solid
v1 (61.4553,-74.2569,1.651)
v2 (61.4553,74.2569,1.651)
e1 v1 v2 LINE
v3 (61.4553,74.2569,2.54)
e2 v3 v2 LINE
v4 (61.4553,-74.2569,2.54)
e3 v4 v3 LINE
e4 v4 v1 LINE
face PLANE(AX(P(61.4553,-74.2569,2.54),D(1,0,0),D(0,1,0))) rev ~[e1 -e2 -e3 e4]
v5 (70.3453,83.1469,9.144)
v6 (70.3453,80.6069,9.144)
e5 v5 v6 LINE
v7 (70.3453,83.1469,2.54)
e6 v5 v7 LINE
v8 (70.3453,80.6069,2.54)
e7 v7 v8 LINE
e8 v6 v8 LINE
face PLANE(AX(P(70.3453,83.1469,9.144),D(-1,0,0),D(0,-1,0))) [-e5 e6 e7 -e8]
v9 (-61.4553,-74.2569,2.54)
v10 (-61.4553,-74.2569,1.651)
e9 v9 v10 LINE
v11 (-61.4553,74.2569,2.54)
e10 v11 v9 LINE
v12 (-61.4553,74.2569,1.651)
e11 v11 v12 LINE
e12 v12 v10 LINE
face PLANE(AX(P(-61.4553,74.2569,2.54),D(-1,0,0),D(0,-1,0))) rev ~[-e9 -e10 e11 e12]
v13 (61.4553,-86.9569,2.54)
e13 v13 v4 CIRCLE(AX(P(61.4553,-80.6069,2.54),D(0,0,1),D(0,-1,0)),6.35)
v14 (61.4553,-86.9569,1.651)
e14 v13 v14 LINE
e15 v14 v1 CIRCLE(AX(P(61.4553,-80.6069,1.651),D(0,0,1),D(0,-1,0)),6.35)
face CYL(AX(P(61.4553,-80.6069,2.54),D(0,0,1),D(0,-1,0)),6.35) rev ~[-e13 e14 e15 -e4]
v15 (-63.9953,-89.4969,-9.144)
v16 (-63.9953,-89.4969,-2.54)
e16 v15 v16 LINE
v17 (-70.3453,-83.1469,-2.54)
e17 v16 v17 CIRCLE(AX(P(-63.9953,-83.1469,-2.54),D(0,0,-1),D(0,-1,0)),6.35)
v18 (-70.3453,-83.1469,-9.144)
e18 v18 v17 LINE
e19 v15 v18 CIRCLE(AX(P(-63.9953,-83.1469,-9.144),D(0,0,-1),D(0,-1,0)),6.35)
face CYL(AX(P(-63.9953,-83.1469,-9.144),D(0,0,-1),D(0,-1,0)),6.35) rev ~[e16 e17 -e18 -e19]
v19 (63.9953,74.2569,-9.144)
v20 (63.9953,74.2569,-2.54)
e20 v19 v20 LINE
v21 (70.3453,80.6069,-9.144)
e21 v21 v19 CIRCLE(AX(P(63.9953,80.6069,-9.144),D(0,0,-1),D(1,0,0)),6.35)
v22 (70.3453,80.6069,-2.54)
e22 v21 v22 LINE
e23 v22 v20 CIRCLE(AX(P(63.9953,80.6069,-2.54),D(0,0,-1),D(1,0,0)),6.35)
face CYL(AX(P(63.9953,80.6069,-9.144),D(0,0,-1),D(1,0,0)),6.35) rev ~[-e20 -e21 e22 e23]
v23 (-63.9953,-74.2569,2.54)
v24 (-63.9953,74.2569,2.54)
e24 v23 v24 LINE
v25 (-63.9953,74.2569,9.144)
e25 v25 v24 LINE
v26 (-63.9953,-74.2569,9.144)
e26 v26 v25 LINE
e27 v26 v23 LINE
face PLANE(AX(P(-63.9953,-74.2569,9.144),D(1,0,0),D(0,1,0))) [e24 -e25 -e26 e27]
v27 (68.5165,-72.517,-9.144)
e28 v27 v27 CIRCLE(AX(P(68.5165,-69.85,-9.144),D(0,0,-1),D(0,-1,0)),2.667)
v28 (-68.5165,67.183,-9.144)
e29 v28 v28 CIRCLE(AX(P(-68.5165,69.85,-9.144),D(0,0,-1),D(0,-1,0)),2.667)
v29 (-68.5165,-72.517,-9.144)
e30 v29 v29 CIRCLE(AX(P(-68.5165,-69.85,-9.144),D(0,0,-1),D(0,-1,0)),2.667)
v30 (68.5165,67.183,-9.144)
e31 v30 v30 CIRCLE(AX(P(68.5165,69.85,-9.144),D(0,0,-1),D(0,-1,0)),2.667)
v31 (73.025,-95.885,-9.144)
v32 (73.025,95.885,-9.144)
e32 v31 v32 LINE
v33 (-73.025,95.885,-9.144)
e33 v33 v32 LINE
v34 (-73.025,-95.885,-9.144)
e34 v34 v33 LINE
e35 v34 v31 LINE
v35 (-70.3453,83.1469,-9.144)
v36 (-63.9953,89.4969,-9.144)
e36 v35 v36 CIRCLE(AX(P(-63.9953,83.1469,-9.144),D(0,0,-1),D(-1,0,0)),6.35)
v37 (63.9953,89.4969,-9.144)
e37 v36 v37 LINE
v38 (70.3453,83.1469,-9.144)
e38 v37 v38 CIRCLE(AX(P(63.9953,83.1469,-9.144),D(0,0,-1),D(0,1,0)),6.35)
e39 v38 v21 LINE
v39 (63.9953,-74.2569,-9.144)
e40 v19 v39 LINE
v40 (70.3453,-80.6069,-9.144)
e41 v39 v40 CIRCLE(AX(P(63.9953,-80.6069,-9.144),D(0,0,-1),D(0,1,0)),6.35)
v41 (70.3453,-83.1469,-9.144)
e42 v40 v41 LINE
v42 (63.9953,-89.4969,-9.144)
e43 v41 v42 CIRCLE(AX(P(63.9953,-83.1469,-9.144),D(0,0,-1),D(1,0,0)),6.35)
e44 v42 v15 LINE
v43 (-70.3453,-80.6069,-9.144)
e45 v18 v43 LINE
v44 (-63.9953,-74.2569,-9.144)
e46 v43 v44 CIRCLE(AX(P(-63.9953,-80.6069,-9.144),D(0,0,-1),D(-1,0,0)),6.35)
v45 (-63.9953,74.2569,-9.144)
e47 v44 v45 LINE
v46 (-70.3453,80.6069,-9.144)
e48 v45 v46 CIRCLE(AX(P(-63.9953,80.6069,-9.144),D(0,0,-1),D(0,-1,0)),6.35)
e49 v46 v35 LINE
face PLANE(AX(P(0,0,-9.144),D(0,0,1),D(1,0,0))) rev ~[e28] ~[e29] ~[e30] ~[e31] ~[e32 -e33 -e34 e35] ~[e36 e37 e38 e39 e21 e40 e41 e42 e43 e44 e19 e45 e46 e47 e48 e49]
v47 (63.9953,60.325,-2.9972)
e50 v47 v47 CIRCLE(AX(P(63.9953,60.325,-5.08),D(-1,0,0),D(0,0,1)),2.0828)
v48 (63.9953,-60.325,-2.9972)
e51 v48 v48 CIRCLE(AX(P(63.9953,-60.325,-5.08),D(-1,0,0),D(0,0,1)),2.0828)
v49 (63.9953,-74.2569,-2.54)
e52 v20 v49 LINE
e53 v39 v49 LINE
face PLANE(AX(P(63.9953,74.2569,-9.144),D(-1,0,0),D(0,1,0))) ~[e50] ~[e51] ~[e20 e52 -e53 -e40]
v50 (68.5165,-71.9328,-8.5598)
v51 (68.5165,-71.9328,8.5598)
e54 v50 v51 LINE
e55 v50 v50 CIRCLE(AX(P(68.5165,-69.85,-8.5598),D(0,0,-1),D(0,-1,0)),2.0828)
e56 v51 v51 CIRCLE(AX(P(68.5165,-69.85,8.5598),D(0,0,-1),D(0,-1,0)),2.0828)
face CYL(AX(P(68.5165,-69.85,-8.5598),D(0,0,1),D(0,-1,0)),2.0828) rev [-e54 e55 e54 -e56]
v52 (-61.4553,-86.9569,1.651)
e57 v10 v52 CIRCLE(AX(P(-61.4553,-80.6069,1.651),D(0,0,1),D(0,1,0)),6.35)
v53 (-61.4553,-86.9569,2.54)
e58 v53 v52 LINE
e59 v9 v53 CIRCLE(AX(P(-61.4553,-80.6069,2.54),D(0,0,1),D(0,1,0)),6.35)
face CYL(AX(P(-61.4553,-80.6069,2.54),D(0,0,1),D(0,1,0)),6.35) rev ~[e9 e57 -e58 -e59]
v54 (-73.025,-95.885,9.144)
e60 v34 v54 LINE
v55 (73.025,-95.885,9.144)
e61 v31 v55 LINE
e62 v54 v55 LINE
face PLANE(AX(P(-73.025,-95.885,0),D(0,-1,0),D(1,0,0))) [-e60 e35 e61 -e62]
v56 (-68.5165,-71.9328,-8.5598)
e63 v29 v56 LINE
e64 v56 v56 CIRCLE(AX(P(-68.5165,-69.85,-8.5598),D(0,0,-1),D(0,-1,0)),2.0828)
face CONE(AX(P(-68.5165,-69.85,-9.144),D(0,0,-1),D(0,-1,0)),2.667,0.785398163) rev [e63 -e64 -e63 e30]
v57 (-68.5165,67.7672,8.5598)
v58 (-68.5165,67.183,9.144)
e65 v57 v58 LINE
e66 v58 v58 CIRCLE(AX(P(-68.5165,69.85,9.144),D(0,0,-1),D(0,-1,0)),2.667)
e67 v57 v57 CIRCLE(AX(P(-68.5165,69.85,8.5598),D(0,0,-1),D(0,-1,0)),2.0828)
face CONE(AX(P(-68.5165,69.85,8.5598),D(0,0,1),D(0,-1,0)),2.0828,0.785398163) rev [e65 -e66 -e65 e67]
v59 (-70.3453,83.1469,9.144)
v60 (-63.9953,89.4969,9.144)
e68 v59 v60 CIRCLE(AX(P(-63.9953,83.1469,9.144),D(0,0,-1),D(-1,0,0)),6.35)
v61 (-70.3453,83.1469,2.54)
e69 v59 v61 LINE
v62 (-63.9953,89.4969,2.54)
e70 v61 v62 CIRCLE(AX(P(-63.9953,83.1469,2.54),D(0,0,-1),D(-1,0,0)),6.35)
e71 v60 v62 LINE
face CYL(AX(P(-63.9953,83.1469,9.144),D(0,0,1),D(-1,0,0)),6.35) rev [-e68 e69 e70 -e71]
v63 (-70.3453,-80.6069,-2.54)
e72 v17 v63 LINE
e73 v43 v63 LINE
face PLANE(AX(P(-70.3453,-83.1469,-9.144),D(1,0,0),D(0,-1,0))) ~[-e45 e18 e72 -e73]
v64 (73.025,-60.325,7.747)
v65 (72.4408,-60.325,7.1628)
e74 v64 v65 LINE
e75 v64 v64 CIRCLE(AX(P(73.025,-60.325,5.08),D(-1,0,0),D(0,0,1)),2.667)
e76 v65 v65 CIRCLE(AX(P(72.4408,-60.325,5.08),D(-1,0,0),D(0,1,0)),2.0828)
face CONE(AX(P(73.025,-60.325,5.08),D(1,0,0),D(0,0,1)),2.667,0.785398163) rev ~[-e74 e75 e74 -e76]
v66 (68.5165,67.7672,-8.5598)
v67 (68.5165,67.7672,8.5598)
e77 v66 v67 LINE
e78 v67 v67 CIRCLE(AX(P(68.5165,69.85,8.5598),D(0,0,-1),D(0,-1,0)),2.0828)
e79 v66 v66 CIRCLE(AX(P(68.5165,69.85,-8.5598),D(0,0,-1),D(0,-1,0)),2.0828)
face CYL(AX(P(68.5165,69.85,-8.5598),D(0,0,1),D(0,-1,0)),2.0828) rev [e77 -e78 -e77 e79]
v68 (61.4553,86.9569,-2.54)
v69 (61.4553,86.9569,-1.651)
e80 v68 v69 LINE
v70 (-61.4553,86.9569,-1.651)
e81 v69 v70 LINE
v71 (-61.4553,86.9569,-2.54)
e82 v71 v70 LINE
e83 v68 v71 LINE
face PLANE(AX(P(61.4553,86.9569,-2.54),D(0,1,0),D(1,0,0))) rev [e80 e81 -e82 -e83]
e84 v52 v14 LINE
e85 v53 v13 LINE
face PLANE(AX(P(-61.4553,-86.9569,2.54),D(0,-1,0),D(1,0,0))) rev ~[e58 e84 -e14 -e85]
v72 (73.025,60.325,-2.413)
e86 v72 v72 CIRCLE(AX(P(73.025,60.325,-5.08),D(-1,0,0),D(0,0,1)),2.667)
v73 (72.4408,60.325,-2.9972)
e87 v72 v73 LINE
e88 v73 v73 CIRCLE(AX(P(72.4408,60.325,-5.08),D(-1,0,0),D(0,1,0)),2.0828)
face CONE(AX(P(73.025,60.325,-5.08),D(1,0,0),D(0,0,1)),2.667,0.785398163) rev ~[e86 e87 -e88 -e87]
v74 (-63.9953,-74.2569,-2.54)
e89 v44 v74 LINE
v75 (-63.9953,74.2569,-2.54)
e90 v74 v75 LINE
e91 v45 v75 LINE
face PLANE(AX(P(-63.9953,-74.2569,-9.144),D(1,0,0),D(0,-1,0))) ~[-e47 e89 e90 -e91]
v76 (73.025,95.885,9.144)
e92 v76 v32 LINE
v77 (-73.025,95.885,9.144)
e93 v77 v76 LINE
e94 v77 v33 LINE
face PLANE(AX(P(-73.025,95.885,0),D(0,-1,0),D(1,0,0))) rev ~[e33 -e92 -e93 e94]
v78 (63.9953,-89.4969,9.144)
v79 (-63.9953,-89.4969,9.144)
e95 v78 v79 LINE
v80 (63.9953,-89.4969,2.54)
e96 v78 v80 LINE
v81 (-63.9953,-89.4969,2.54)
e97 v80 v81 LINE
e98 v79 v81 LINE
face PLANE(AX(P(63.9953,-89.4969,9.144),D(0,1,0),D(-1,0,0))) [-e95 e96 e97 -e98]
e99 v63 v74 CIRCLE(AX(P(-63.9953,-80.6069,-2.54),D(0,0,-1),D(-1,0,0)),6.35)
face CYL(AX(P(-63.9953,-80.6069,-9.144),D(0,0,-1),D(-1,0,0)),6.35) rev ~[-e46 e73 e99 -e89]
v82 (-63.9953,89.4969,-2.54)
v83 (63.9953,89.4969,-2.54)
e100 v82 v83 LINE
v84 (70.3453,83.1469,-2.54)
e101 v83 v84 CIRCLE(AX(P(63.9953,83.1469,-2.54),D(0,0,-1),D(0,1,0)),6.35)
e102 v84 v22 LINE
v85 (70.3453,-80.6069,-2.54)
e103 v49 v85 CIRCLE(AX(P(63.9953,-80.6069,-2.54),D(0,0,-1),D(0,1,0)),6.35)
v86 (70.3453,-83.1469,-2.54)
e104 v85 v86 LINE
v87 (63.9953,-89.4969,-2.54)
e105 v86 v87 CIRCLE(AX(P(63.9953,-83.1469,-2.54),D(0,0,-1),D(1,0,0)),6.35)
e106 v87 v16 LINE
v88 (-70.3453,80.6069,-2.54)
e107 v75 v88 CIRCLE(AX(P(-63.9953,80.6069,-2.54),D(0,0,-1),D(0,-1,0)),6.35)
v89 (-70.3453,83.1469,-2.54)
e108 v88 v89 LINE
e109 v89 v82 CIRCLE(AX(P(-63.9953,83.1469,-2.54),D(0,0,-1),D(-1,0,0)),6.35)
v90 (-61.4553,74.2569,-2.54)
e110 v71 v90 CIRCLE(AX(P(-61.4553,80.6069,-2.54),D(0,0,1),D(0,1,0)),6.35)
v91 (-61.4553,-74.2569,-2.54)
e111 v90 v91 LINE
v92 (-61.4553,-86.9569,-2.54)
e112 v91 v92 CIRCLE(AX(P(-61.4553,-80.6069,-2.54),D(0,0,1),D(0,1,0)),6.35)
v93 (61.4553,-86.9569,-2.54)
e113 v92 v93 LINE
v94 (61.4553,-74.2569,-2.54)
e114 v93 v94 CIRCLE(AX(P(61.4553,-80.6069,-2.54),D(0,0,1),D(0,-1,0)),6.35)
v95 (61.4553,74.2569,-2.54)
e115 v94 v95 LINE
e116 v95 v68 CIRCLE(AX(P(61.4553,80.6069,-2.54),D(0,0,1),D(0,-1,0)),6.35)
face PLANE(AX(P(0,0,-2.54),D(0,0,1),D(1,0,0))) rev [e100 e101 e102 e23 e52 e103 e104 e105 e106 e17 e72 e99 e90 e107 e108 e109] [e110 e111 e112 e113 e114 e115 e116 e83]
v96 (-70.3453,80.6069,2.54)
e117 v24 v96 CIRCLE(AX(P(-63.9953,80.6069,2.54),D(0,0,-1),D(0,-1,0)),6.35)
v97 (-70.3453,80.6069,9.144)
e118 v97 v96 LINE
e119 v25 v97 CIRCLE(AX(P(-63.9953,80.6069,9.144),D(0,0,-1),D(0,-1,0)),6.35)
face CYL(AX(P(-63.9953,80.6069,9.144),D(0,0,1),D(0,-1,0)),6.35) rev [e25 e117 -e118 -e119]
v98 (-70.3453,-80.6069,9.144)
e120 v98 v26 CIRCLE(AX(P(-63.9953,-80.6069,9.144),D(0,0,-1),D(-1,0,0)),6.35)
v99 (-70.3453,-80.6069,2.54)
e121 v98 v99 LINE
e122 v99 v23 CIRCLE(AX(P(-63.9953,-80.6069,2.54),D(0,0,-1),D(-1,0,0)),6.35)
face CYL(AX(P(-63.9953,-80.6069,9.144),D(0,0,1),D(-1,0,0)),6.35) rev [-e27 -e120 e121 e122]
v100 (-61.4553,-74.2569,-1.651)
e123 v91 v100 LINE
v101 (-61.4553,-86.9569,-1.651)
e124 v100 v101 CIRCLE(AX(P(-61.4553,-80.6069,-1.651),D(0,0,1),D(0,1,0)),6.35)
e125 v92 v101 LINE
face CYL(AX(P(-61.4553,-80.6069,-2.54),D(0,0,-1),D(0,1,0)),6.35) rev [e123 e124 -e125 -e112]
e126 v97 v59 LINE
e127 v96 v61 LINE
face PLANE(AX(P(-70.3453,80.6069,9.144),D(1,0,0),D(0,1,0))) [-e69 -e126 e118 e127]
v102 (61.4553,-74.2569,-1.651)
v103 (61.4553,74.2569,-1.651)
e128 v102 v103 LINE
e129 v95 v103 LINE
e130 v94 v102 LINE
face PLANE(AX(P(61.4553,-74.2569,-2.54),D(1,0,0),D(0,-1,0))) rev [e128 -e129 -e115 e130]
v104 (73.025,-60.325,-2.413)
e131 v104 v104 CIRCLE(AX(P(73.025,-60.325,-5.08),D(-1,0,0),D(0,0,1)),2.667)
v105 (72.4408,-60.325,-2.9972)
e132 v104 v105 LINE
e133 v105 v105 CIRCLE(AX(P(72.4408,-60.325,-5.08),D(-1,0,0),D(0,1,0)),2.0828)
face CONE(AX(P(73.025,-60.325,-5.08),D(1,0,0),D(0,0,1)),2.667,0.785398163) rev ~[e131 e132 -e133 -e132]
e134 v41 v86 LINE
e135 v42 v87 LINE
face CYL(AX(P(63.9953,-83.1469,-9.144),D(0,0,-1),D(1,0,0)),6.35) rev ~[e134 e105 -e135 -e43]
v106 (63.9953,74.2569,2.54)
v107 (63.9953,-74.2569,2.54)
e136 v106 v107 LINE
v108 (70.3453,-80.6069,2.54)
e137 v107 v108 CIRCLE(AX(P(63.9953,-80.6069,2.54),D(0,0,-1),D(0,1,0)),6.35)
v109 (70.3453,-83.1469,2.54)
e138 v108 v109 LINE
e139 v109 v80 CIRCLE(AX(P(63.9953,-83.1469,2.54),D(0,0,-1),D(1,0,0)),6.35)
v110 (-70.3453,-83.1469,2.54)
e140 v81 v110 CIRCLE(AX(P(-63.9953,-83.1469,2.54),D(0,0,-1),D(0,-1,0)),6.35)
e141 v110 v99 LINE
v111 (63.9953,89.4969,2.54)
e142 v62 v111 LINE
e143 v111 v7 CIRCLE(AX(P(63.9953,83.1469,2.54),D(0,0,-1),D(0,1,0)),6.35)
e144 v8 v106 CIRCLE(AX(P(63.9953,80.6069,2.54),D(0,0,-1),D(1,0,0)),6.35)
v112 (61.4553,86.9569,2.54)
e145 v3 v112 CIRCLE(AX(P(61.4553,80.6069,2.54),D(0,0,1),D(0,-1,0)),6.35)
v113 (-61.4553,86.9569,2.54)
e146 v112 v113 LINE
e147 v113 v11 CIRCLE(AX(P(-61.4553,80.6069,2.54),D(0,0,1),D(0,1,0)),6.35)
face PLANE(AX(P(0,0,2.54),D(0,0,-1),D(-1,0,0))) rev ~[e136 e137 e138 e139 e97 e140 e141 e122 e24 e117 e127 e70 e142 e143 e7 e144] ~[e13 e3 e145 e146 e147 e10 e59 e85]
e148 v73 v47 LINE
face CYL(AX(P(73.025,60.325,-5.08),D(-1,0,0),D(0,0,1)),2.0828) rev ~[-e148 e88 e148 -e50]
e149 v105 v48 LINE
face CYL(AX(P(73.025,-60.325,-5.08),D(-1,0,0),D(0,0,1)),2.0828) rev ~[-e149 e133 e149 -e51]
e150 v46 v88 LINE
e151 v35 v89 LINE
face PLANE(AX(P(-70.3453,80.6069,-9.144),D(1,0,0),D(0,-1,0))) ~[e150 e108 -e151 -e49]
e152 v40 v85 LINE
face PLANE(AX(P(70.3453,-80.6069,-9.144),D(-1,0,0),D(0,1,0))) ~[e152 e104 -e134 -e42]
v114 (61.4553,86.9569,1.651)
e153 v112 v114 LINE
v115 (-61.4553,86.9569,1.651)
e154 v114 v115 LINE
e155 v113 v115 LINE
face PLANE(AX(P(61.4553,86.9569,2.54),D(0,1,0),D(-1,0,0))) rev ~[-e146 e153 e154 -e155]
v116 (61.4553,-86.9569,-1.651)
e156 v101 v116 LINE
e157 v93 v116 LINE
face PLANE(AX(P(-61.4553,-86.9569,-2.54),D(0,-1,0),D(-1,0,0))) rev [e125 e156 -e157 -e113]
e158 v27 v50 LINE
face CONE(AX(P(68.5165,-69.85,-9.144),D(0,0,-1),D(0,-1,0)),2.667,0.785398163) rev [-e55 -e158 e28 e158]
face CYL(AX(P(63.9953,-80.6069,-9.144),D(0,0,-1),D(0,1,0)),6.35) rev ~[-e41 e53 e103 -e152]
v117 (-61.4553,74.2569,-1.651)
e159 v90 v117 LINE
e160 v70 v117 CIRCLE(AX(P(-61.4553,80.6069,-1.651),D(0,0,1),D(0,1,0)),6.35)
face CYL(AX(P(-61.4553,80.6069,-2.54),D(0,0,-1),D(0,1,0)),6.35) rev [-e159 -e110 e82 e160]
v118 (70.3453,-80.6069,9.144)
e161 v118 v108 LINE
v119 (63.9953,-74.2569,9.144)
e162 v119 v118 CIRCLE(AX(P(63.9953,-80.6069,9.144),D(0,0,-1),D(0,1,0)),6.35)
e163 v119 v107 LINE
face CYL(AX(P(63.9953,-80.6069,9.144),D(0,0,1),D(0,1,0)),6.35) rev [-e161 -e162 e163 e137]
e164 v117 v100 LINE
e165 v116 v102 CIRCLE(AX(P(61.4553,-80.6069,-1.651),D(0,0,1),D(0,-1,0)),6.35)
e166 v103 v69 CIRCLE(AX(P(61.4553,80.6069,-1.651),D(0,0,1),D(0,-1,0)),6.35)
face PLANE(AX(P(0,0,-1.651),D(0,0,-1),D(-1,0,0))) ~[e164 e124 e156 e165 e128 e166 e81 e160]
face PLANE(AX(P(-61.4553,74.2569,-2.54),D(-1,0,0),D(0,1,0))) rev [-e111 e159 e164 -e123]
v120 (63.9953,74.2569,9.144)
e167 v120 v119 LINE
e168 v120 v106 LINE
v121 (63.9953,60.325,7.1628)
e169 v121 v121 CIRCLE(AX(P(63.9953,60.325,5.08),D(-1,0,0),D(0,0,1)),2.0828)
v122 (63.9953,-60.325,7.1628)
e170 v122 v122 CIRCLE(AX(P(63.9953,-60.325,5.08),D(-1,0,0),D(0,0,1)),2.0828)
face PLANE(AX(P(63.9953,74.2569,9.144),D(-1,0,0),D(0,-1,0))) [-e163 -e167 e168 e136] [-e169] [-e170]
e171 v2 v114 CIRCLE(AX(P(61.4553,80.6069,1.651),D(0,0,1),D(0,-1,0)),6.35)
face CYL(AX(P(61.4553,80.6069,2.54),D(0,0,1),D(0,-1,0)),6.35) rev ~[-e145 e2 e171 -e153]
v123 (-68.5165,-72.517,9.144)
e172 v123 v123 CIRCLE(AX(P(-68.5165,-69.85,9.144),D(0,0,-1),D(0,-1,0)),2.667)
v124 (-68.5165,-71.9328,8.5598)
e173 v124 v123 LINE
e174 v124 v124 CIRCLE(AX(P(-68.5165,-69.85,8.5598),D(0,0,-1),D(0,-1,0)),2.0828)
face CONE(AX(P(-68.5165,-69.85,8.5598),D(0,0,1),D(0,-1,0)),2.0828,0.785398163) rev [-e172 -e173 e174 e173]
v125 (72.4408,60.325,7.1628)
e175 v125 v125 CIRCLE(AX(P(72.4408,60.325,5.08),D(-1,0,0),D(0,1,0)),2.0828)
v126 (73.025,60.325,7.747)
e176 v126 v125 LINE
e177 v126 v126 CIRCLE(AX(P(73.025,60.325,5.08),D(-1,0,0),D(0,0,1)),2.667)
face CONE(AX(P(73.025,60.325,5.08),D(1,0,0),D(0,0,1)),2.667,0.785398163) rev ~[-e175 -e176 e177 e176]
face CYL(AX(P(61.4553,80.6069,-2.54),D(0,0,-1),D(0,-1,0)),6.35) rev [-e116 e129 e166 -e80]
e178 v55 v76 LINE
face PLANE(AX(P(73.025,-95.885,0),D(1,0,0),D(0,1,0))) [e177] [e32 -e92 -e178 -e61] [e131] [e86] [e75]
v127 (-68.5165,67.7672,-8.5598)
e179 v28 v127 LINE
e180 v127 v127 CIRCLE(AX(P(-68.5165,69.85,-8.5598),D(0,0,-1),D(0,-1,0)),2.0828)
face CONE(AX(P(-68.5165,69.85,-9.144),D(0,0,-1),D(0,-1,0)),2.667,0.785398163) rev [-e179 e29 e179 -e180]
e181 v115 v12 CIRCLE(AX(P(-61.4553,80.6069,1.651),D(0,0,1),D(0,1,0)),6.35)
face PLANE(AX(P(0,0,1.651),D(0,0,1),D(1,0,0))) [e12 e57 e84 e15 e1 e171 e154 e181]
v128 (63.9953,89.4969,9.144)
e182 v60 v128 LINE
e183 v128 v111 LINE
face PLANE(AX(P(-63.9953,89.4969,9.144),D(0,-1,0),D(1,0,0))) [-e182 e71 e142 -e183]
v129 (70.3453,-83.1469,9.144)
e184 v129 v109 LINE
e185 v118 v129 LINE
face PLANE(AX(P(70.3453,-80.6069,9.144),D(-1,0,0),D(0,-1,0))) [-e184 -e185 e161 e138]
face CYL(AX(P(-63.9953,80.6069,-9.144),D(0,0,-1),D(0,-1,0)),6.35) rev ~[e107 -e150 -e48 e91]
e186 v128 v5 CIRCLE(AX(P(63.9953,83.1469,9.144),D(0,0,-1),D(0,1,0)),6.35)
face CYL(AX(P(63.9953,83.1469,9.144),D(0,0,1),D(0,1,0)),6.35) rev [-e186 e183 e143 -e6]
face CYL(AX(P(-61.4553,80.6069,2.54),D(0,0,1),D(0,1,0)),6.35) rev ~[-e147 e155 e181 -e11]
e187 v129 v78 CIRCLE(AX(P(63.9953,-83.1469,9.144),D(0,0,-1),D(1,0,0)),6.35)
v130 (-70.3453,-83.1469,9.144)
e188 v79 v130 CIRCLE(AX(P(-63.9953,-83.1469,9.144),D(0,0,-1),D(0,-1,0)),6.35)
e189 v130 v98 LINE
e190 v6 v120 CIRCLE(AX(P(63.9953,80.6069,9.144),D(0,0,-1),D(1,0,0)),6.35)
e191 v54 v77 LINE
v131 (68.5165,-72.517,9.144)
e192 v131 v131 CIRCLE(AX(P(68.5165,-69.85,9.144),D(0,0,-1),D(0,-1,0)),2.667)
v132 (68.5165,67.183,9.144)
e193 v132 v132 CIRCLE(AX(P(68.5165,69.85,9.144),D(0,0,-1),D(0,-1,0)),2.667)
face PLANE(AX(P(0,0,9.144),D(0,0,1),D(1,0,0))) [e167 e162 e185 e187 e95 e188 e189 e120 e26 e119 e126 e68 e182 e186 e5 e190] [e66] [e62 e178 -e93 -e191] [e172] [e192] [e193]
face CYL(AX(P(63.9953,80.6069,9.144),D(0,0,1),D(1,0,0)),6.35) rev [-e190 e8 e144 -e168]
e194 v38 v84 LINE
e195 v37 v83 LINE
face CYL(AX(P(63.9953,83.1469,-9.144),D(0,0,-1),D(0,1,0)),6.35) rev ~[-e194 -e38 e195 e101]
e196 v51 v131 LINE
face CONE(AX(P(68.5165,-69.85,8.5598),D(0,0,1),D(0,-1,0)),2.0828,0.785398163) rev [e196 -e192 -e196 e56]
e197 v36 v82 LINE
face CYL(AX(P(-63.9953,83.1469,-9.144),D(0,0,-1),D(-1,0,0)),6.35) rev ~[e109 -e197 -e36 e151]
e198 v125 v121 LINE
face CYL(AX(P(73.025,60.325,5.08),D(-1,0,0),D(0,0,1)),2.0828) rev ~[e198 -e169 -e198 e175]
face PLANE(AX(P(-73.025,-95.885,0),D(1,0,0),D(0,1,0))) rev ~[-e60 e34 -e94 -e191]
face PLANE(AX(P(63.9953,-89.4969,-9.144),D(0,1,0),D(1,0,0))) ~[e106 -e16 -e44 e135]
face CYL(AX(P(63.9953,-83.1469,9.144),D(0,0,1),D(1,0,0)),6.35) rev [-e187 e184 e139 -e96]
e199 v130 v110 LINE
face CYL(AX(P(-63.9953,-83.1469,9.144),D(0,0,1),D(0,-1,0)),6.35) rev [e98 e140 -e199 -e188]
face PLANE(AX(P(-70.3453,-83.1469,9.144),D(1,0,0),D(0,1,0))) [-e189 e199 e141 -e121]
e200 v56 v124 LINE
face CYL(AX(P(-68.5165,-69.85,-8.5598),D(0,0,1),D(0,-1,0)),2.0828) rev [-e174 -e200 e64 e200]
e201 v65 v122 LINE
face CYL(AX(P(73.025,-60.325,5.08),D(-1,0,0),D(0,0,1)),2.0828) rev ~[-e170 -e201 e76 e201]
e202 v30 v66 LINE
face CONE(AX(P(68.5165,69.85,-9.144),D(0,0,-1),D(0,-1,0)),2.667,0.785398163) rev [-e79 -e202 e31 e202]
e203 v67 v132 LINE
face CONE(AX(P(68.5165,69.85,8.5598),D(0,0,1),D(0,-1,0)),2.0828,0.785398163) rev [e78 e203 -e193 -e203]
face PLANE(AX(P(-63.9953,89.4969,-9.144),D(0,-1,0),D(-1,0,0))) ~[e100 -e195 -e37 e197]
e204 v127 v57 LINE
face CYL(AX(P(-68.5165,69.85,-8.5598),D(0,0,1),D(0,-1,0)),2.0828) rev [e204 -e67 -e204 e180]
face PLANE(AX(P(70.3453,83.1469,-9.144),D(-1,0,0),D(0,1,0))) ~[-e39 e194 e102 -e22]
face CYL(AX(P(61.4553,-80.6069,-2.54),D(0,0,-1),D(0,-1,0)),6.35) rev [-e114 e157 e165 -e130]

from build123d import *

# Parameters (mm, degrees)
SKETCH1_W                       = 146.05
SKETCH1_H                       = 191.77
BOSS_EXTRUDE1_DEPTH             = 9.144
CUT_EXTRUDE1_DEPTH              = 6.604
CUT_EXTRUDE3_DEPTH              = 0.889
F_8_32_TAPPED_HOLE1_AT_2_COUNT  = 2
F_8_32_TAPPED_HOLE1_AT_2_PITCH  = 137.033
F_8_32_TAPPED_HOLE1_AT_3_COUNT  = 2
F_8_32_TAPPED_HOLE1_AT_3_PITCH  = 195.688868076
F_8_32_TAPPED_HOLE1_AT_4_COUNT  = 2
F_8_32_TAPPED_HOLE1_AT_4_PITCH  = 139.7
F_8_32_TAPPED_HOLE2_D           = 4.1656
F_8_32_TAPPED_HOLE2_DEPTH       = 9.0297
F_8_32_TAPPED_HOLE2_CSINK_D     = 5.334
F_8_32_TAPPED_HOLE2_CSINK_ANGLE = 90


with BuildPart() as part:
    # Sketch1 → Boss-Extrude1 (new body, symmetric)
    with BuildSketch(Plane.XY):
        Rectangle(SKETCH1_W, SKETCH1_H)
    extrude(amount=BOSS_EXTRUDE1_DEPTH, both=True)

    # Sketch4 → Cut-Extrude1 (cut)
    with BuildSketch(Plane.XY.offset(9.144)):
        with BuildLine():
            Line((-63.9953, -74.2569), (-63.9953, 74.2569))
            ThreePointArc((-63.9953, 74.2569), (-68.485428061, 76.116771939), (-70.3453, 80.6069))
            Line((-70.3453, 80.6069), (-70.3453, 83.1469))
            ThreePointArc((-70.3453, 83.1469), (-68.485428061, 87.637028061), (-63.9953, 89.4969))
            Line((-63.9953, 89.4969), (63.9953, 89.4969))
            ThreePointArc((63.9953, 89.4969), (68.485428061, 87.637028061), (70.3453, 83.1469))
            Line((70.3453, 83.1469), (70.3453, 80.6069))
            ThreePointArc((70.3453, 80.6069), (68.485428061, 76.116771939), (63.9953, 74.2569))
            Line((63.9953, 74.2569), (63.9953, -74.2569))
            ThreePointArc((63.9953, -74.2569), (68.485428061, -76.116771939), (70.3453, -80.6069))
            Line((70.3453, -80.6069), (70.3453, -83.1469))
            ThreePointArc((70.3453, -83.1469), (68.485428061, -87.637028061), (63.9953, -89.4969))
            Line((63.9953, -89.4969), (-63.9953, -89.4969))
            ThreePointArc((-63.9953, -89.4969), (-68.485428061, -87.637028061), (-70.3453, -83.1469))
            Line((-70.3453, -83.1469), (-70.3453, -80.6069))
            ThreePointArc((-70.3453, -80.6069), (-68.485428061, -76.116771939), (-63.9953, -74.2569))
        make_face()
    cut_extrude1 = extrude(amount=-CUT_EXTRUDE1_DEPTH, mode=Mode.SUBTRACT)

    # Sketch5 → Cut-Extrude3 (cut)
    with BuildSketch(Plane(origin=(0, 0, 2.54), x_dir=(-1, 0, 0), z_dir=(0, 0, -1))):
        with BuildLine():
            Line((-61.4553, 86.9569), (61.4553, 86.9569))
            ThreePointArc((61.4553, 86.9569), (67.8053, 80.6069), (61.4553, 74.2569))
            Line((61.4553, 74.2569), (61.4553, -74.2569))
            ThreePointArc((61.4553, -74.2569), (67.8053, -80.6069), (61.4553, -86.9569))
            Line((61.4553, -86.9569), (-61.4553, -86.9569))
            ThreePointArc((-61.4553, -86.9569), (-67.8053, -80.6069), (-61.4553, -74.2569))
            Line((-61.4553, -74.2569), (-61.4553, 74.2569))
            ThreePointArc((-61.4553, 74.2569), (-67.8053, 80.6069), (-61.4553, 86.9569))
        make_face()
    cut_extrude3 = extrude(amount=CUT_EXTRUDE3_DEPTH, mode=Mode.SUBTRACT)

    # Mirror1: Cut-Extrude1, Cut-Extrude3 across plane
    add(cut_extrude1.mirror(Plane.XY), mode=Mode.SUBTRACT)
    add(cut_extrude3.mirror(Plane.XY), mode=Mode.SUBTRACT)

    # Sketch8 → #8-32 Tapped Hole1 (revolve, cut)
    with BuildSketch(Plane(origin=(68.5165, 69.85, 9.144), x_dir=(0, -1, 0), z_dir=(1, 0, 0))):
        Polygon((0, 0), (0, 18.288), (2.667, 18.288), (2.0828, 17.7038), (2.0828, 0.5842), (2.667, 0), align=None)
    f_8_32_tapped_hole1 = revolve(axis=Axis((68.5165, 69.85, 15.494), (0, 0, -1)), mode=Mode.SUBTRACT)

    # #8-32 Tapped Hole1 at 2: #8-32 Tapped Hole1 ×2
    with Locations(*[(-i * F_8_32_TAPPED_HOLE1_AT_2_PITCH, 0, 0) for i in range(1, F_8_32_TAPPED_HOLE1_AT_2_COUNT)]):
        add(f_8_32_tapped_hole1, mode=Mode.SUBTRACT)

    # #8-32 Tapped Hole1 at 3: #8-32 Tapped Hole1 ×2
    with Locations(*[Vector(-0.700259557, -0.713888334, 0) * (i * F_8_32_TAPPED_HOLE1_AT_3_PITCH) for i in range(1, F_8_32_TAPPED_HOLE1_AT_3_COUNT)]):
        add(f_8_32_tapped_hole1, mode=Mode.SUBTRACT)

    # #8-32 Tapped Hole1 at 4: #8-32 Tapped Hole1 ×2
    with Locations(*[(0, -i * F_8_32_TAPPED_HOLE1_AT_4_PITCH, 0) for i in range(1, F_8_32_TAPPED_HOLE1_AT_4_COUNT)]):
        add(f_8_32_tapped_hole1, mode=Mode.SUBTRACT)

    # #8-32 Tapped Hole2
    with Locations(Plane(origin=(73.025, 0, 0), x_dir=(0, 0, -1), z_dir=(1, 0, 0))):
        with Locations((5.08, 60.325), (-5.08, -60.325), (5.08, -60.325), (-5.08, 60.325)):
            CounterSinkHole(F_8_32_TAPPED_HOLE2_D / 2, F_8_32_TAPPED_HOLE2_CSINK_D / 2, depth=F_8_32_TAPPED_HOLE2_DEPTH, counter_sink_angle=F_8_32_TAPPED_HOLE2_CSINK_ANGLE)


solid = part.part
